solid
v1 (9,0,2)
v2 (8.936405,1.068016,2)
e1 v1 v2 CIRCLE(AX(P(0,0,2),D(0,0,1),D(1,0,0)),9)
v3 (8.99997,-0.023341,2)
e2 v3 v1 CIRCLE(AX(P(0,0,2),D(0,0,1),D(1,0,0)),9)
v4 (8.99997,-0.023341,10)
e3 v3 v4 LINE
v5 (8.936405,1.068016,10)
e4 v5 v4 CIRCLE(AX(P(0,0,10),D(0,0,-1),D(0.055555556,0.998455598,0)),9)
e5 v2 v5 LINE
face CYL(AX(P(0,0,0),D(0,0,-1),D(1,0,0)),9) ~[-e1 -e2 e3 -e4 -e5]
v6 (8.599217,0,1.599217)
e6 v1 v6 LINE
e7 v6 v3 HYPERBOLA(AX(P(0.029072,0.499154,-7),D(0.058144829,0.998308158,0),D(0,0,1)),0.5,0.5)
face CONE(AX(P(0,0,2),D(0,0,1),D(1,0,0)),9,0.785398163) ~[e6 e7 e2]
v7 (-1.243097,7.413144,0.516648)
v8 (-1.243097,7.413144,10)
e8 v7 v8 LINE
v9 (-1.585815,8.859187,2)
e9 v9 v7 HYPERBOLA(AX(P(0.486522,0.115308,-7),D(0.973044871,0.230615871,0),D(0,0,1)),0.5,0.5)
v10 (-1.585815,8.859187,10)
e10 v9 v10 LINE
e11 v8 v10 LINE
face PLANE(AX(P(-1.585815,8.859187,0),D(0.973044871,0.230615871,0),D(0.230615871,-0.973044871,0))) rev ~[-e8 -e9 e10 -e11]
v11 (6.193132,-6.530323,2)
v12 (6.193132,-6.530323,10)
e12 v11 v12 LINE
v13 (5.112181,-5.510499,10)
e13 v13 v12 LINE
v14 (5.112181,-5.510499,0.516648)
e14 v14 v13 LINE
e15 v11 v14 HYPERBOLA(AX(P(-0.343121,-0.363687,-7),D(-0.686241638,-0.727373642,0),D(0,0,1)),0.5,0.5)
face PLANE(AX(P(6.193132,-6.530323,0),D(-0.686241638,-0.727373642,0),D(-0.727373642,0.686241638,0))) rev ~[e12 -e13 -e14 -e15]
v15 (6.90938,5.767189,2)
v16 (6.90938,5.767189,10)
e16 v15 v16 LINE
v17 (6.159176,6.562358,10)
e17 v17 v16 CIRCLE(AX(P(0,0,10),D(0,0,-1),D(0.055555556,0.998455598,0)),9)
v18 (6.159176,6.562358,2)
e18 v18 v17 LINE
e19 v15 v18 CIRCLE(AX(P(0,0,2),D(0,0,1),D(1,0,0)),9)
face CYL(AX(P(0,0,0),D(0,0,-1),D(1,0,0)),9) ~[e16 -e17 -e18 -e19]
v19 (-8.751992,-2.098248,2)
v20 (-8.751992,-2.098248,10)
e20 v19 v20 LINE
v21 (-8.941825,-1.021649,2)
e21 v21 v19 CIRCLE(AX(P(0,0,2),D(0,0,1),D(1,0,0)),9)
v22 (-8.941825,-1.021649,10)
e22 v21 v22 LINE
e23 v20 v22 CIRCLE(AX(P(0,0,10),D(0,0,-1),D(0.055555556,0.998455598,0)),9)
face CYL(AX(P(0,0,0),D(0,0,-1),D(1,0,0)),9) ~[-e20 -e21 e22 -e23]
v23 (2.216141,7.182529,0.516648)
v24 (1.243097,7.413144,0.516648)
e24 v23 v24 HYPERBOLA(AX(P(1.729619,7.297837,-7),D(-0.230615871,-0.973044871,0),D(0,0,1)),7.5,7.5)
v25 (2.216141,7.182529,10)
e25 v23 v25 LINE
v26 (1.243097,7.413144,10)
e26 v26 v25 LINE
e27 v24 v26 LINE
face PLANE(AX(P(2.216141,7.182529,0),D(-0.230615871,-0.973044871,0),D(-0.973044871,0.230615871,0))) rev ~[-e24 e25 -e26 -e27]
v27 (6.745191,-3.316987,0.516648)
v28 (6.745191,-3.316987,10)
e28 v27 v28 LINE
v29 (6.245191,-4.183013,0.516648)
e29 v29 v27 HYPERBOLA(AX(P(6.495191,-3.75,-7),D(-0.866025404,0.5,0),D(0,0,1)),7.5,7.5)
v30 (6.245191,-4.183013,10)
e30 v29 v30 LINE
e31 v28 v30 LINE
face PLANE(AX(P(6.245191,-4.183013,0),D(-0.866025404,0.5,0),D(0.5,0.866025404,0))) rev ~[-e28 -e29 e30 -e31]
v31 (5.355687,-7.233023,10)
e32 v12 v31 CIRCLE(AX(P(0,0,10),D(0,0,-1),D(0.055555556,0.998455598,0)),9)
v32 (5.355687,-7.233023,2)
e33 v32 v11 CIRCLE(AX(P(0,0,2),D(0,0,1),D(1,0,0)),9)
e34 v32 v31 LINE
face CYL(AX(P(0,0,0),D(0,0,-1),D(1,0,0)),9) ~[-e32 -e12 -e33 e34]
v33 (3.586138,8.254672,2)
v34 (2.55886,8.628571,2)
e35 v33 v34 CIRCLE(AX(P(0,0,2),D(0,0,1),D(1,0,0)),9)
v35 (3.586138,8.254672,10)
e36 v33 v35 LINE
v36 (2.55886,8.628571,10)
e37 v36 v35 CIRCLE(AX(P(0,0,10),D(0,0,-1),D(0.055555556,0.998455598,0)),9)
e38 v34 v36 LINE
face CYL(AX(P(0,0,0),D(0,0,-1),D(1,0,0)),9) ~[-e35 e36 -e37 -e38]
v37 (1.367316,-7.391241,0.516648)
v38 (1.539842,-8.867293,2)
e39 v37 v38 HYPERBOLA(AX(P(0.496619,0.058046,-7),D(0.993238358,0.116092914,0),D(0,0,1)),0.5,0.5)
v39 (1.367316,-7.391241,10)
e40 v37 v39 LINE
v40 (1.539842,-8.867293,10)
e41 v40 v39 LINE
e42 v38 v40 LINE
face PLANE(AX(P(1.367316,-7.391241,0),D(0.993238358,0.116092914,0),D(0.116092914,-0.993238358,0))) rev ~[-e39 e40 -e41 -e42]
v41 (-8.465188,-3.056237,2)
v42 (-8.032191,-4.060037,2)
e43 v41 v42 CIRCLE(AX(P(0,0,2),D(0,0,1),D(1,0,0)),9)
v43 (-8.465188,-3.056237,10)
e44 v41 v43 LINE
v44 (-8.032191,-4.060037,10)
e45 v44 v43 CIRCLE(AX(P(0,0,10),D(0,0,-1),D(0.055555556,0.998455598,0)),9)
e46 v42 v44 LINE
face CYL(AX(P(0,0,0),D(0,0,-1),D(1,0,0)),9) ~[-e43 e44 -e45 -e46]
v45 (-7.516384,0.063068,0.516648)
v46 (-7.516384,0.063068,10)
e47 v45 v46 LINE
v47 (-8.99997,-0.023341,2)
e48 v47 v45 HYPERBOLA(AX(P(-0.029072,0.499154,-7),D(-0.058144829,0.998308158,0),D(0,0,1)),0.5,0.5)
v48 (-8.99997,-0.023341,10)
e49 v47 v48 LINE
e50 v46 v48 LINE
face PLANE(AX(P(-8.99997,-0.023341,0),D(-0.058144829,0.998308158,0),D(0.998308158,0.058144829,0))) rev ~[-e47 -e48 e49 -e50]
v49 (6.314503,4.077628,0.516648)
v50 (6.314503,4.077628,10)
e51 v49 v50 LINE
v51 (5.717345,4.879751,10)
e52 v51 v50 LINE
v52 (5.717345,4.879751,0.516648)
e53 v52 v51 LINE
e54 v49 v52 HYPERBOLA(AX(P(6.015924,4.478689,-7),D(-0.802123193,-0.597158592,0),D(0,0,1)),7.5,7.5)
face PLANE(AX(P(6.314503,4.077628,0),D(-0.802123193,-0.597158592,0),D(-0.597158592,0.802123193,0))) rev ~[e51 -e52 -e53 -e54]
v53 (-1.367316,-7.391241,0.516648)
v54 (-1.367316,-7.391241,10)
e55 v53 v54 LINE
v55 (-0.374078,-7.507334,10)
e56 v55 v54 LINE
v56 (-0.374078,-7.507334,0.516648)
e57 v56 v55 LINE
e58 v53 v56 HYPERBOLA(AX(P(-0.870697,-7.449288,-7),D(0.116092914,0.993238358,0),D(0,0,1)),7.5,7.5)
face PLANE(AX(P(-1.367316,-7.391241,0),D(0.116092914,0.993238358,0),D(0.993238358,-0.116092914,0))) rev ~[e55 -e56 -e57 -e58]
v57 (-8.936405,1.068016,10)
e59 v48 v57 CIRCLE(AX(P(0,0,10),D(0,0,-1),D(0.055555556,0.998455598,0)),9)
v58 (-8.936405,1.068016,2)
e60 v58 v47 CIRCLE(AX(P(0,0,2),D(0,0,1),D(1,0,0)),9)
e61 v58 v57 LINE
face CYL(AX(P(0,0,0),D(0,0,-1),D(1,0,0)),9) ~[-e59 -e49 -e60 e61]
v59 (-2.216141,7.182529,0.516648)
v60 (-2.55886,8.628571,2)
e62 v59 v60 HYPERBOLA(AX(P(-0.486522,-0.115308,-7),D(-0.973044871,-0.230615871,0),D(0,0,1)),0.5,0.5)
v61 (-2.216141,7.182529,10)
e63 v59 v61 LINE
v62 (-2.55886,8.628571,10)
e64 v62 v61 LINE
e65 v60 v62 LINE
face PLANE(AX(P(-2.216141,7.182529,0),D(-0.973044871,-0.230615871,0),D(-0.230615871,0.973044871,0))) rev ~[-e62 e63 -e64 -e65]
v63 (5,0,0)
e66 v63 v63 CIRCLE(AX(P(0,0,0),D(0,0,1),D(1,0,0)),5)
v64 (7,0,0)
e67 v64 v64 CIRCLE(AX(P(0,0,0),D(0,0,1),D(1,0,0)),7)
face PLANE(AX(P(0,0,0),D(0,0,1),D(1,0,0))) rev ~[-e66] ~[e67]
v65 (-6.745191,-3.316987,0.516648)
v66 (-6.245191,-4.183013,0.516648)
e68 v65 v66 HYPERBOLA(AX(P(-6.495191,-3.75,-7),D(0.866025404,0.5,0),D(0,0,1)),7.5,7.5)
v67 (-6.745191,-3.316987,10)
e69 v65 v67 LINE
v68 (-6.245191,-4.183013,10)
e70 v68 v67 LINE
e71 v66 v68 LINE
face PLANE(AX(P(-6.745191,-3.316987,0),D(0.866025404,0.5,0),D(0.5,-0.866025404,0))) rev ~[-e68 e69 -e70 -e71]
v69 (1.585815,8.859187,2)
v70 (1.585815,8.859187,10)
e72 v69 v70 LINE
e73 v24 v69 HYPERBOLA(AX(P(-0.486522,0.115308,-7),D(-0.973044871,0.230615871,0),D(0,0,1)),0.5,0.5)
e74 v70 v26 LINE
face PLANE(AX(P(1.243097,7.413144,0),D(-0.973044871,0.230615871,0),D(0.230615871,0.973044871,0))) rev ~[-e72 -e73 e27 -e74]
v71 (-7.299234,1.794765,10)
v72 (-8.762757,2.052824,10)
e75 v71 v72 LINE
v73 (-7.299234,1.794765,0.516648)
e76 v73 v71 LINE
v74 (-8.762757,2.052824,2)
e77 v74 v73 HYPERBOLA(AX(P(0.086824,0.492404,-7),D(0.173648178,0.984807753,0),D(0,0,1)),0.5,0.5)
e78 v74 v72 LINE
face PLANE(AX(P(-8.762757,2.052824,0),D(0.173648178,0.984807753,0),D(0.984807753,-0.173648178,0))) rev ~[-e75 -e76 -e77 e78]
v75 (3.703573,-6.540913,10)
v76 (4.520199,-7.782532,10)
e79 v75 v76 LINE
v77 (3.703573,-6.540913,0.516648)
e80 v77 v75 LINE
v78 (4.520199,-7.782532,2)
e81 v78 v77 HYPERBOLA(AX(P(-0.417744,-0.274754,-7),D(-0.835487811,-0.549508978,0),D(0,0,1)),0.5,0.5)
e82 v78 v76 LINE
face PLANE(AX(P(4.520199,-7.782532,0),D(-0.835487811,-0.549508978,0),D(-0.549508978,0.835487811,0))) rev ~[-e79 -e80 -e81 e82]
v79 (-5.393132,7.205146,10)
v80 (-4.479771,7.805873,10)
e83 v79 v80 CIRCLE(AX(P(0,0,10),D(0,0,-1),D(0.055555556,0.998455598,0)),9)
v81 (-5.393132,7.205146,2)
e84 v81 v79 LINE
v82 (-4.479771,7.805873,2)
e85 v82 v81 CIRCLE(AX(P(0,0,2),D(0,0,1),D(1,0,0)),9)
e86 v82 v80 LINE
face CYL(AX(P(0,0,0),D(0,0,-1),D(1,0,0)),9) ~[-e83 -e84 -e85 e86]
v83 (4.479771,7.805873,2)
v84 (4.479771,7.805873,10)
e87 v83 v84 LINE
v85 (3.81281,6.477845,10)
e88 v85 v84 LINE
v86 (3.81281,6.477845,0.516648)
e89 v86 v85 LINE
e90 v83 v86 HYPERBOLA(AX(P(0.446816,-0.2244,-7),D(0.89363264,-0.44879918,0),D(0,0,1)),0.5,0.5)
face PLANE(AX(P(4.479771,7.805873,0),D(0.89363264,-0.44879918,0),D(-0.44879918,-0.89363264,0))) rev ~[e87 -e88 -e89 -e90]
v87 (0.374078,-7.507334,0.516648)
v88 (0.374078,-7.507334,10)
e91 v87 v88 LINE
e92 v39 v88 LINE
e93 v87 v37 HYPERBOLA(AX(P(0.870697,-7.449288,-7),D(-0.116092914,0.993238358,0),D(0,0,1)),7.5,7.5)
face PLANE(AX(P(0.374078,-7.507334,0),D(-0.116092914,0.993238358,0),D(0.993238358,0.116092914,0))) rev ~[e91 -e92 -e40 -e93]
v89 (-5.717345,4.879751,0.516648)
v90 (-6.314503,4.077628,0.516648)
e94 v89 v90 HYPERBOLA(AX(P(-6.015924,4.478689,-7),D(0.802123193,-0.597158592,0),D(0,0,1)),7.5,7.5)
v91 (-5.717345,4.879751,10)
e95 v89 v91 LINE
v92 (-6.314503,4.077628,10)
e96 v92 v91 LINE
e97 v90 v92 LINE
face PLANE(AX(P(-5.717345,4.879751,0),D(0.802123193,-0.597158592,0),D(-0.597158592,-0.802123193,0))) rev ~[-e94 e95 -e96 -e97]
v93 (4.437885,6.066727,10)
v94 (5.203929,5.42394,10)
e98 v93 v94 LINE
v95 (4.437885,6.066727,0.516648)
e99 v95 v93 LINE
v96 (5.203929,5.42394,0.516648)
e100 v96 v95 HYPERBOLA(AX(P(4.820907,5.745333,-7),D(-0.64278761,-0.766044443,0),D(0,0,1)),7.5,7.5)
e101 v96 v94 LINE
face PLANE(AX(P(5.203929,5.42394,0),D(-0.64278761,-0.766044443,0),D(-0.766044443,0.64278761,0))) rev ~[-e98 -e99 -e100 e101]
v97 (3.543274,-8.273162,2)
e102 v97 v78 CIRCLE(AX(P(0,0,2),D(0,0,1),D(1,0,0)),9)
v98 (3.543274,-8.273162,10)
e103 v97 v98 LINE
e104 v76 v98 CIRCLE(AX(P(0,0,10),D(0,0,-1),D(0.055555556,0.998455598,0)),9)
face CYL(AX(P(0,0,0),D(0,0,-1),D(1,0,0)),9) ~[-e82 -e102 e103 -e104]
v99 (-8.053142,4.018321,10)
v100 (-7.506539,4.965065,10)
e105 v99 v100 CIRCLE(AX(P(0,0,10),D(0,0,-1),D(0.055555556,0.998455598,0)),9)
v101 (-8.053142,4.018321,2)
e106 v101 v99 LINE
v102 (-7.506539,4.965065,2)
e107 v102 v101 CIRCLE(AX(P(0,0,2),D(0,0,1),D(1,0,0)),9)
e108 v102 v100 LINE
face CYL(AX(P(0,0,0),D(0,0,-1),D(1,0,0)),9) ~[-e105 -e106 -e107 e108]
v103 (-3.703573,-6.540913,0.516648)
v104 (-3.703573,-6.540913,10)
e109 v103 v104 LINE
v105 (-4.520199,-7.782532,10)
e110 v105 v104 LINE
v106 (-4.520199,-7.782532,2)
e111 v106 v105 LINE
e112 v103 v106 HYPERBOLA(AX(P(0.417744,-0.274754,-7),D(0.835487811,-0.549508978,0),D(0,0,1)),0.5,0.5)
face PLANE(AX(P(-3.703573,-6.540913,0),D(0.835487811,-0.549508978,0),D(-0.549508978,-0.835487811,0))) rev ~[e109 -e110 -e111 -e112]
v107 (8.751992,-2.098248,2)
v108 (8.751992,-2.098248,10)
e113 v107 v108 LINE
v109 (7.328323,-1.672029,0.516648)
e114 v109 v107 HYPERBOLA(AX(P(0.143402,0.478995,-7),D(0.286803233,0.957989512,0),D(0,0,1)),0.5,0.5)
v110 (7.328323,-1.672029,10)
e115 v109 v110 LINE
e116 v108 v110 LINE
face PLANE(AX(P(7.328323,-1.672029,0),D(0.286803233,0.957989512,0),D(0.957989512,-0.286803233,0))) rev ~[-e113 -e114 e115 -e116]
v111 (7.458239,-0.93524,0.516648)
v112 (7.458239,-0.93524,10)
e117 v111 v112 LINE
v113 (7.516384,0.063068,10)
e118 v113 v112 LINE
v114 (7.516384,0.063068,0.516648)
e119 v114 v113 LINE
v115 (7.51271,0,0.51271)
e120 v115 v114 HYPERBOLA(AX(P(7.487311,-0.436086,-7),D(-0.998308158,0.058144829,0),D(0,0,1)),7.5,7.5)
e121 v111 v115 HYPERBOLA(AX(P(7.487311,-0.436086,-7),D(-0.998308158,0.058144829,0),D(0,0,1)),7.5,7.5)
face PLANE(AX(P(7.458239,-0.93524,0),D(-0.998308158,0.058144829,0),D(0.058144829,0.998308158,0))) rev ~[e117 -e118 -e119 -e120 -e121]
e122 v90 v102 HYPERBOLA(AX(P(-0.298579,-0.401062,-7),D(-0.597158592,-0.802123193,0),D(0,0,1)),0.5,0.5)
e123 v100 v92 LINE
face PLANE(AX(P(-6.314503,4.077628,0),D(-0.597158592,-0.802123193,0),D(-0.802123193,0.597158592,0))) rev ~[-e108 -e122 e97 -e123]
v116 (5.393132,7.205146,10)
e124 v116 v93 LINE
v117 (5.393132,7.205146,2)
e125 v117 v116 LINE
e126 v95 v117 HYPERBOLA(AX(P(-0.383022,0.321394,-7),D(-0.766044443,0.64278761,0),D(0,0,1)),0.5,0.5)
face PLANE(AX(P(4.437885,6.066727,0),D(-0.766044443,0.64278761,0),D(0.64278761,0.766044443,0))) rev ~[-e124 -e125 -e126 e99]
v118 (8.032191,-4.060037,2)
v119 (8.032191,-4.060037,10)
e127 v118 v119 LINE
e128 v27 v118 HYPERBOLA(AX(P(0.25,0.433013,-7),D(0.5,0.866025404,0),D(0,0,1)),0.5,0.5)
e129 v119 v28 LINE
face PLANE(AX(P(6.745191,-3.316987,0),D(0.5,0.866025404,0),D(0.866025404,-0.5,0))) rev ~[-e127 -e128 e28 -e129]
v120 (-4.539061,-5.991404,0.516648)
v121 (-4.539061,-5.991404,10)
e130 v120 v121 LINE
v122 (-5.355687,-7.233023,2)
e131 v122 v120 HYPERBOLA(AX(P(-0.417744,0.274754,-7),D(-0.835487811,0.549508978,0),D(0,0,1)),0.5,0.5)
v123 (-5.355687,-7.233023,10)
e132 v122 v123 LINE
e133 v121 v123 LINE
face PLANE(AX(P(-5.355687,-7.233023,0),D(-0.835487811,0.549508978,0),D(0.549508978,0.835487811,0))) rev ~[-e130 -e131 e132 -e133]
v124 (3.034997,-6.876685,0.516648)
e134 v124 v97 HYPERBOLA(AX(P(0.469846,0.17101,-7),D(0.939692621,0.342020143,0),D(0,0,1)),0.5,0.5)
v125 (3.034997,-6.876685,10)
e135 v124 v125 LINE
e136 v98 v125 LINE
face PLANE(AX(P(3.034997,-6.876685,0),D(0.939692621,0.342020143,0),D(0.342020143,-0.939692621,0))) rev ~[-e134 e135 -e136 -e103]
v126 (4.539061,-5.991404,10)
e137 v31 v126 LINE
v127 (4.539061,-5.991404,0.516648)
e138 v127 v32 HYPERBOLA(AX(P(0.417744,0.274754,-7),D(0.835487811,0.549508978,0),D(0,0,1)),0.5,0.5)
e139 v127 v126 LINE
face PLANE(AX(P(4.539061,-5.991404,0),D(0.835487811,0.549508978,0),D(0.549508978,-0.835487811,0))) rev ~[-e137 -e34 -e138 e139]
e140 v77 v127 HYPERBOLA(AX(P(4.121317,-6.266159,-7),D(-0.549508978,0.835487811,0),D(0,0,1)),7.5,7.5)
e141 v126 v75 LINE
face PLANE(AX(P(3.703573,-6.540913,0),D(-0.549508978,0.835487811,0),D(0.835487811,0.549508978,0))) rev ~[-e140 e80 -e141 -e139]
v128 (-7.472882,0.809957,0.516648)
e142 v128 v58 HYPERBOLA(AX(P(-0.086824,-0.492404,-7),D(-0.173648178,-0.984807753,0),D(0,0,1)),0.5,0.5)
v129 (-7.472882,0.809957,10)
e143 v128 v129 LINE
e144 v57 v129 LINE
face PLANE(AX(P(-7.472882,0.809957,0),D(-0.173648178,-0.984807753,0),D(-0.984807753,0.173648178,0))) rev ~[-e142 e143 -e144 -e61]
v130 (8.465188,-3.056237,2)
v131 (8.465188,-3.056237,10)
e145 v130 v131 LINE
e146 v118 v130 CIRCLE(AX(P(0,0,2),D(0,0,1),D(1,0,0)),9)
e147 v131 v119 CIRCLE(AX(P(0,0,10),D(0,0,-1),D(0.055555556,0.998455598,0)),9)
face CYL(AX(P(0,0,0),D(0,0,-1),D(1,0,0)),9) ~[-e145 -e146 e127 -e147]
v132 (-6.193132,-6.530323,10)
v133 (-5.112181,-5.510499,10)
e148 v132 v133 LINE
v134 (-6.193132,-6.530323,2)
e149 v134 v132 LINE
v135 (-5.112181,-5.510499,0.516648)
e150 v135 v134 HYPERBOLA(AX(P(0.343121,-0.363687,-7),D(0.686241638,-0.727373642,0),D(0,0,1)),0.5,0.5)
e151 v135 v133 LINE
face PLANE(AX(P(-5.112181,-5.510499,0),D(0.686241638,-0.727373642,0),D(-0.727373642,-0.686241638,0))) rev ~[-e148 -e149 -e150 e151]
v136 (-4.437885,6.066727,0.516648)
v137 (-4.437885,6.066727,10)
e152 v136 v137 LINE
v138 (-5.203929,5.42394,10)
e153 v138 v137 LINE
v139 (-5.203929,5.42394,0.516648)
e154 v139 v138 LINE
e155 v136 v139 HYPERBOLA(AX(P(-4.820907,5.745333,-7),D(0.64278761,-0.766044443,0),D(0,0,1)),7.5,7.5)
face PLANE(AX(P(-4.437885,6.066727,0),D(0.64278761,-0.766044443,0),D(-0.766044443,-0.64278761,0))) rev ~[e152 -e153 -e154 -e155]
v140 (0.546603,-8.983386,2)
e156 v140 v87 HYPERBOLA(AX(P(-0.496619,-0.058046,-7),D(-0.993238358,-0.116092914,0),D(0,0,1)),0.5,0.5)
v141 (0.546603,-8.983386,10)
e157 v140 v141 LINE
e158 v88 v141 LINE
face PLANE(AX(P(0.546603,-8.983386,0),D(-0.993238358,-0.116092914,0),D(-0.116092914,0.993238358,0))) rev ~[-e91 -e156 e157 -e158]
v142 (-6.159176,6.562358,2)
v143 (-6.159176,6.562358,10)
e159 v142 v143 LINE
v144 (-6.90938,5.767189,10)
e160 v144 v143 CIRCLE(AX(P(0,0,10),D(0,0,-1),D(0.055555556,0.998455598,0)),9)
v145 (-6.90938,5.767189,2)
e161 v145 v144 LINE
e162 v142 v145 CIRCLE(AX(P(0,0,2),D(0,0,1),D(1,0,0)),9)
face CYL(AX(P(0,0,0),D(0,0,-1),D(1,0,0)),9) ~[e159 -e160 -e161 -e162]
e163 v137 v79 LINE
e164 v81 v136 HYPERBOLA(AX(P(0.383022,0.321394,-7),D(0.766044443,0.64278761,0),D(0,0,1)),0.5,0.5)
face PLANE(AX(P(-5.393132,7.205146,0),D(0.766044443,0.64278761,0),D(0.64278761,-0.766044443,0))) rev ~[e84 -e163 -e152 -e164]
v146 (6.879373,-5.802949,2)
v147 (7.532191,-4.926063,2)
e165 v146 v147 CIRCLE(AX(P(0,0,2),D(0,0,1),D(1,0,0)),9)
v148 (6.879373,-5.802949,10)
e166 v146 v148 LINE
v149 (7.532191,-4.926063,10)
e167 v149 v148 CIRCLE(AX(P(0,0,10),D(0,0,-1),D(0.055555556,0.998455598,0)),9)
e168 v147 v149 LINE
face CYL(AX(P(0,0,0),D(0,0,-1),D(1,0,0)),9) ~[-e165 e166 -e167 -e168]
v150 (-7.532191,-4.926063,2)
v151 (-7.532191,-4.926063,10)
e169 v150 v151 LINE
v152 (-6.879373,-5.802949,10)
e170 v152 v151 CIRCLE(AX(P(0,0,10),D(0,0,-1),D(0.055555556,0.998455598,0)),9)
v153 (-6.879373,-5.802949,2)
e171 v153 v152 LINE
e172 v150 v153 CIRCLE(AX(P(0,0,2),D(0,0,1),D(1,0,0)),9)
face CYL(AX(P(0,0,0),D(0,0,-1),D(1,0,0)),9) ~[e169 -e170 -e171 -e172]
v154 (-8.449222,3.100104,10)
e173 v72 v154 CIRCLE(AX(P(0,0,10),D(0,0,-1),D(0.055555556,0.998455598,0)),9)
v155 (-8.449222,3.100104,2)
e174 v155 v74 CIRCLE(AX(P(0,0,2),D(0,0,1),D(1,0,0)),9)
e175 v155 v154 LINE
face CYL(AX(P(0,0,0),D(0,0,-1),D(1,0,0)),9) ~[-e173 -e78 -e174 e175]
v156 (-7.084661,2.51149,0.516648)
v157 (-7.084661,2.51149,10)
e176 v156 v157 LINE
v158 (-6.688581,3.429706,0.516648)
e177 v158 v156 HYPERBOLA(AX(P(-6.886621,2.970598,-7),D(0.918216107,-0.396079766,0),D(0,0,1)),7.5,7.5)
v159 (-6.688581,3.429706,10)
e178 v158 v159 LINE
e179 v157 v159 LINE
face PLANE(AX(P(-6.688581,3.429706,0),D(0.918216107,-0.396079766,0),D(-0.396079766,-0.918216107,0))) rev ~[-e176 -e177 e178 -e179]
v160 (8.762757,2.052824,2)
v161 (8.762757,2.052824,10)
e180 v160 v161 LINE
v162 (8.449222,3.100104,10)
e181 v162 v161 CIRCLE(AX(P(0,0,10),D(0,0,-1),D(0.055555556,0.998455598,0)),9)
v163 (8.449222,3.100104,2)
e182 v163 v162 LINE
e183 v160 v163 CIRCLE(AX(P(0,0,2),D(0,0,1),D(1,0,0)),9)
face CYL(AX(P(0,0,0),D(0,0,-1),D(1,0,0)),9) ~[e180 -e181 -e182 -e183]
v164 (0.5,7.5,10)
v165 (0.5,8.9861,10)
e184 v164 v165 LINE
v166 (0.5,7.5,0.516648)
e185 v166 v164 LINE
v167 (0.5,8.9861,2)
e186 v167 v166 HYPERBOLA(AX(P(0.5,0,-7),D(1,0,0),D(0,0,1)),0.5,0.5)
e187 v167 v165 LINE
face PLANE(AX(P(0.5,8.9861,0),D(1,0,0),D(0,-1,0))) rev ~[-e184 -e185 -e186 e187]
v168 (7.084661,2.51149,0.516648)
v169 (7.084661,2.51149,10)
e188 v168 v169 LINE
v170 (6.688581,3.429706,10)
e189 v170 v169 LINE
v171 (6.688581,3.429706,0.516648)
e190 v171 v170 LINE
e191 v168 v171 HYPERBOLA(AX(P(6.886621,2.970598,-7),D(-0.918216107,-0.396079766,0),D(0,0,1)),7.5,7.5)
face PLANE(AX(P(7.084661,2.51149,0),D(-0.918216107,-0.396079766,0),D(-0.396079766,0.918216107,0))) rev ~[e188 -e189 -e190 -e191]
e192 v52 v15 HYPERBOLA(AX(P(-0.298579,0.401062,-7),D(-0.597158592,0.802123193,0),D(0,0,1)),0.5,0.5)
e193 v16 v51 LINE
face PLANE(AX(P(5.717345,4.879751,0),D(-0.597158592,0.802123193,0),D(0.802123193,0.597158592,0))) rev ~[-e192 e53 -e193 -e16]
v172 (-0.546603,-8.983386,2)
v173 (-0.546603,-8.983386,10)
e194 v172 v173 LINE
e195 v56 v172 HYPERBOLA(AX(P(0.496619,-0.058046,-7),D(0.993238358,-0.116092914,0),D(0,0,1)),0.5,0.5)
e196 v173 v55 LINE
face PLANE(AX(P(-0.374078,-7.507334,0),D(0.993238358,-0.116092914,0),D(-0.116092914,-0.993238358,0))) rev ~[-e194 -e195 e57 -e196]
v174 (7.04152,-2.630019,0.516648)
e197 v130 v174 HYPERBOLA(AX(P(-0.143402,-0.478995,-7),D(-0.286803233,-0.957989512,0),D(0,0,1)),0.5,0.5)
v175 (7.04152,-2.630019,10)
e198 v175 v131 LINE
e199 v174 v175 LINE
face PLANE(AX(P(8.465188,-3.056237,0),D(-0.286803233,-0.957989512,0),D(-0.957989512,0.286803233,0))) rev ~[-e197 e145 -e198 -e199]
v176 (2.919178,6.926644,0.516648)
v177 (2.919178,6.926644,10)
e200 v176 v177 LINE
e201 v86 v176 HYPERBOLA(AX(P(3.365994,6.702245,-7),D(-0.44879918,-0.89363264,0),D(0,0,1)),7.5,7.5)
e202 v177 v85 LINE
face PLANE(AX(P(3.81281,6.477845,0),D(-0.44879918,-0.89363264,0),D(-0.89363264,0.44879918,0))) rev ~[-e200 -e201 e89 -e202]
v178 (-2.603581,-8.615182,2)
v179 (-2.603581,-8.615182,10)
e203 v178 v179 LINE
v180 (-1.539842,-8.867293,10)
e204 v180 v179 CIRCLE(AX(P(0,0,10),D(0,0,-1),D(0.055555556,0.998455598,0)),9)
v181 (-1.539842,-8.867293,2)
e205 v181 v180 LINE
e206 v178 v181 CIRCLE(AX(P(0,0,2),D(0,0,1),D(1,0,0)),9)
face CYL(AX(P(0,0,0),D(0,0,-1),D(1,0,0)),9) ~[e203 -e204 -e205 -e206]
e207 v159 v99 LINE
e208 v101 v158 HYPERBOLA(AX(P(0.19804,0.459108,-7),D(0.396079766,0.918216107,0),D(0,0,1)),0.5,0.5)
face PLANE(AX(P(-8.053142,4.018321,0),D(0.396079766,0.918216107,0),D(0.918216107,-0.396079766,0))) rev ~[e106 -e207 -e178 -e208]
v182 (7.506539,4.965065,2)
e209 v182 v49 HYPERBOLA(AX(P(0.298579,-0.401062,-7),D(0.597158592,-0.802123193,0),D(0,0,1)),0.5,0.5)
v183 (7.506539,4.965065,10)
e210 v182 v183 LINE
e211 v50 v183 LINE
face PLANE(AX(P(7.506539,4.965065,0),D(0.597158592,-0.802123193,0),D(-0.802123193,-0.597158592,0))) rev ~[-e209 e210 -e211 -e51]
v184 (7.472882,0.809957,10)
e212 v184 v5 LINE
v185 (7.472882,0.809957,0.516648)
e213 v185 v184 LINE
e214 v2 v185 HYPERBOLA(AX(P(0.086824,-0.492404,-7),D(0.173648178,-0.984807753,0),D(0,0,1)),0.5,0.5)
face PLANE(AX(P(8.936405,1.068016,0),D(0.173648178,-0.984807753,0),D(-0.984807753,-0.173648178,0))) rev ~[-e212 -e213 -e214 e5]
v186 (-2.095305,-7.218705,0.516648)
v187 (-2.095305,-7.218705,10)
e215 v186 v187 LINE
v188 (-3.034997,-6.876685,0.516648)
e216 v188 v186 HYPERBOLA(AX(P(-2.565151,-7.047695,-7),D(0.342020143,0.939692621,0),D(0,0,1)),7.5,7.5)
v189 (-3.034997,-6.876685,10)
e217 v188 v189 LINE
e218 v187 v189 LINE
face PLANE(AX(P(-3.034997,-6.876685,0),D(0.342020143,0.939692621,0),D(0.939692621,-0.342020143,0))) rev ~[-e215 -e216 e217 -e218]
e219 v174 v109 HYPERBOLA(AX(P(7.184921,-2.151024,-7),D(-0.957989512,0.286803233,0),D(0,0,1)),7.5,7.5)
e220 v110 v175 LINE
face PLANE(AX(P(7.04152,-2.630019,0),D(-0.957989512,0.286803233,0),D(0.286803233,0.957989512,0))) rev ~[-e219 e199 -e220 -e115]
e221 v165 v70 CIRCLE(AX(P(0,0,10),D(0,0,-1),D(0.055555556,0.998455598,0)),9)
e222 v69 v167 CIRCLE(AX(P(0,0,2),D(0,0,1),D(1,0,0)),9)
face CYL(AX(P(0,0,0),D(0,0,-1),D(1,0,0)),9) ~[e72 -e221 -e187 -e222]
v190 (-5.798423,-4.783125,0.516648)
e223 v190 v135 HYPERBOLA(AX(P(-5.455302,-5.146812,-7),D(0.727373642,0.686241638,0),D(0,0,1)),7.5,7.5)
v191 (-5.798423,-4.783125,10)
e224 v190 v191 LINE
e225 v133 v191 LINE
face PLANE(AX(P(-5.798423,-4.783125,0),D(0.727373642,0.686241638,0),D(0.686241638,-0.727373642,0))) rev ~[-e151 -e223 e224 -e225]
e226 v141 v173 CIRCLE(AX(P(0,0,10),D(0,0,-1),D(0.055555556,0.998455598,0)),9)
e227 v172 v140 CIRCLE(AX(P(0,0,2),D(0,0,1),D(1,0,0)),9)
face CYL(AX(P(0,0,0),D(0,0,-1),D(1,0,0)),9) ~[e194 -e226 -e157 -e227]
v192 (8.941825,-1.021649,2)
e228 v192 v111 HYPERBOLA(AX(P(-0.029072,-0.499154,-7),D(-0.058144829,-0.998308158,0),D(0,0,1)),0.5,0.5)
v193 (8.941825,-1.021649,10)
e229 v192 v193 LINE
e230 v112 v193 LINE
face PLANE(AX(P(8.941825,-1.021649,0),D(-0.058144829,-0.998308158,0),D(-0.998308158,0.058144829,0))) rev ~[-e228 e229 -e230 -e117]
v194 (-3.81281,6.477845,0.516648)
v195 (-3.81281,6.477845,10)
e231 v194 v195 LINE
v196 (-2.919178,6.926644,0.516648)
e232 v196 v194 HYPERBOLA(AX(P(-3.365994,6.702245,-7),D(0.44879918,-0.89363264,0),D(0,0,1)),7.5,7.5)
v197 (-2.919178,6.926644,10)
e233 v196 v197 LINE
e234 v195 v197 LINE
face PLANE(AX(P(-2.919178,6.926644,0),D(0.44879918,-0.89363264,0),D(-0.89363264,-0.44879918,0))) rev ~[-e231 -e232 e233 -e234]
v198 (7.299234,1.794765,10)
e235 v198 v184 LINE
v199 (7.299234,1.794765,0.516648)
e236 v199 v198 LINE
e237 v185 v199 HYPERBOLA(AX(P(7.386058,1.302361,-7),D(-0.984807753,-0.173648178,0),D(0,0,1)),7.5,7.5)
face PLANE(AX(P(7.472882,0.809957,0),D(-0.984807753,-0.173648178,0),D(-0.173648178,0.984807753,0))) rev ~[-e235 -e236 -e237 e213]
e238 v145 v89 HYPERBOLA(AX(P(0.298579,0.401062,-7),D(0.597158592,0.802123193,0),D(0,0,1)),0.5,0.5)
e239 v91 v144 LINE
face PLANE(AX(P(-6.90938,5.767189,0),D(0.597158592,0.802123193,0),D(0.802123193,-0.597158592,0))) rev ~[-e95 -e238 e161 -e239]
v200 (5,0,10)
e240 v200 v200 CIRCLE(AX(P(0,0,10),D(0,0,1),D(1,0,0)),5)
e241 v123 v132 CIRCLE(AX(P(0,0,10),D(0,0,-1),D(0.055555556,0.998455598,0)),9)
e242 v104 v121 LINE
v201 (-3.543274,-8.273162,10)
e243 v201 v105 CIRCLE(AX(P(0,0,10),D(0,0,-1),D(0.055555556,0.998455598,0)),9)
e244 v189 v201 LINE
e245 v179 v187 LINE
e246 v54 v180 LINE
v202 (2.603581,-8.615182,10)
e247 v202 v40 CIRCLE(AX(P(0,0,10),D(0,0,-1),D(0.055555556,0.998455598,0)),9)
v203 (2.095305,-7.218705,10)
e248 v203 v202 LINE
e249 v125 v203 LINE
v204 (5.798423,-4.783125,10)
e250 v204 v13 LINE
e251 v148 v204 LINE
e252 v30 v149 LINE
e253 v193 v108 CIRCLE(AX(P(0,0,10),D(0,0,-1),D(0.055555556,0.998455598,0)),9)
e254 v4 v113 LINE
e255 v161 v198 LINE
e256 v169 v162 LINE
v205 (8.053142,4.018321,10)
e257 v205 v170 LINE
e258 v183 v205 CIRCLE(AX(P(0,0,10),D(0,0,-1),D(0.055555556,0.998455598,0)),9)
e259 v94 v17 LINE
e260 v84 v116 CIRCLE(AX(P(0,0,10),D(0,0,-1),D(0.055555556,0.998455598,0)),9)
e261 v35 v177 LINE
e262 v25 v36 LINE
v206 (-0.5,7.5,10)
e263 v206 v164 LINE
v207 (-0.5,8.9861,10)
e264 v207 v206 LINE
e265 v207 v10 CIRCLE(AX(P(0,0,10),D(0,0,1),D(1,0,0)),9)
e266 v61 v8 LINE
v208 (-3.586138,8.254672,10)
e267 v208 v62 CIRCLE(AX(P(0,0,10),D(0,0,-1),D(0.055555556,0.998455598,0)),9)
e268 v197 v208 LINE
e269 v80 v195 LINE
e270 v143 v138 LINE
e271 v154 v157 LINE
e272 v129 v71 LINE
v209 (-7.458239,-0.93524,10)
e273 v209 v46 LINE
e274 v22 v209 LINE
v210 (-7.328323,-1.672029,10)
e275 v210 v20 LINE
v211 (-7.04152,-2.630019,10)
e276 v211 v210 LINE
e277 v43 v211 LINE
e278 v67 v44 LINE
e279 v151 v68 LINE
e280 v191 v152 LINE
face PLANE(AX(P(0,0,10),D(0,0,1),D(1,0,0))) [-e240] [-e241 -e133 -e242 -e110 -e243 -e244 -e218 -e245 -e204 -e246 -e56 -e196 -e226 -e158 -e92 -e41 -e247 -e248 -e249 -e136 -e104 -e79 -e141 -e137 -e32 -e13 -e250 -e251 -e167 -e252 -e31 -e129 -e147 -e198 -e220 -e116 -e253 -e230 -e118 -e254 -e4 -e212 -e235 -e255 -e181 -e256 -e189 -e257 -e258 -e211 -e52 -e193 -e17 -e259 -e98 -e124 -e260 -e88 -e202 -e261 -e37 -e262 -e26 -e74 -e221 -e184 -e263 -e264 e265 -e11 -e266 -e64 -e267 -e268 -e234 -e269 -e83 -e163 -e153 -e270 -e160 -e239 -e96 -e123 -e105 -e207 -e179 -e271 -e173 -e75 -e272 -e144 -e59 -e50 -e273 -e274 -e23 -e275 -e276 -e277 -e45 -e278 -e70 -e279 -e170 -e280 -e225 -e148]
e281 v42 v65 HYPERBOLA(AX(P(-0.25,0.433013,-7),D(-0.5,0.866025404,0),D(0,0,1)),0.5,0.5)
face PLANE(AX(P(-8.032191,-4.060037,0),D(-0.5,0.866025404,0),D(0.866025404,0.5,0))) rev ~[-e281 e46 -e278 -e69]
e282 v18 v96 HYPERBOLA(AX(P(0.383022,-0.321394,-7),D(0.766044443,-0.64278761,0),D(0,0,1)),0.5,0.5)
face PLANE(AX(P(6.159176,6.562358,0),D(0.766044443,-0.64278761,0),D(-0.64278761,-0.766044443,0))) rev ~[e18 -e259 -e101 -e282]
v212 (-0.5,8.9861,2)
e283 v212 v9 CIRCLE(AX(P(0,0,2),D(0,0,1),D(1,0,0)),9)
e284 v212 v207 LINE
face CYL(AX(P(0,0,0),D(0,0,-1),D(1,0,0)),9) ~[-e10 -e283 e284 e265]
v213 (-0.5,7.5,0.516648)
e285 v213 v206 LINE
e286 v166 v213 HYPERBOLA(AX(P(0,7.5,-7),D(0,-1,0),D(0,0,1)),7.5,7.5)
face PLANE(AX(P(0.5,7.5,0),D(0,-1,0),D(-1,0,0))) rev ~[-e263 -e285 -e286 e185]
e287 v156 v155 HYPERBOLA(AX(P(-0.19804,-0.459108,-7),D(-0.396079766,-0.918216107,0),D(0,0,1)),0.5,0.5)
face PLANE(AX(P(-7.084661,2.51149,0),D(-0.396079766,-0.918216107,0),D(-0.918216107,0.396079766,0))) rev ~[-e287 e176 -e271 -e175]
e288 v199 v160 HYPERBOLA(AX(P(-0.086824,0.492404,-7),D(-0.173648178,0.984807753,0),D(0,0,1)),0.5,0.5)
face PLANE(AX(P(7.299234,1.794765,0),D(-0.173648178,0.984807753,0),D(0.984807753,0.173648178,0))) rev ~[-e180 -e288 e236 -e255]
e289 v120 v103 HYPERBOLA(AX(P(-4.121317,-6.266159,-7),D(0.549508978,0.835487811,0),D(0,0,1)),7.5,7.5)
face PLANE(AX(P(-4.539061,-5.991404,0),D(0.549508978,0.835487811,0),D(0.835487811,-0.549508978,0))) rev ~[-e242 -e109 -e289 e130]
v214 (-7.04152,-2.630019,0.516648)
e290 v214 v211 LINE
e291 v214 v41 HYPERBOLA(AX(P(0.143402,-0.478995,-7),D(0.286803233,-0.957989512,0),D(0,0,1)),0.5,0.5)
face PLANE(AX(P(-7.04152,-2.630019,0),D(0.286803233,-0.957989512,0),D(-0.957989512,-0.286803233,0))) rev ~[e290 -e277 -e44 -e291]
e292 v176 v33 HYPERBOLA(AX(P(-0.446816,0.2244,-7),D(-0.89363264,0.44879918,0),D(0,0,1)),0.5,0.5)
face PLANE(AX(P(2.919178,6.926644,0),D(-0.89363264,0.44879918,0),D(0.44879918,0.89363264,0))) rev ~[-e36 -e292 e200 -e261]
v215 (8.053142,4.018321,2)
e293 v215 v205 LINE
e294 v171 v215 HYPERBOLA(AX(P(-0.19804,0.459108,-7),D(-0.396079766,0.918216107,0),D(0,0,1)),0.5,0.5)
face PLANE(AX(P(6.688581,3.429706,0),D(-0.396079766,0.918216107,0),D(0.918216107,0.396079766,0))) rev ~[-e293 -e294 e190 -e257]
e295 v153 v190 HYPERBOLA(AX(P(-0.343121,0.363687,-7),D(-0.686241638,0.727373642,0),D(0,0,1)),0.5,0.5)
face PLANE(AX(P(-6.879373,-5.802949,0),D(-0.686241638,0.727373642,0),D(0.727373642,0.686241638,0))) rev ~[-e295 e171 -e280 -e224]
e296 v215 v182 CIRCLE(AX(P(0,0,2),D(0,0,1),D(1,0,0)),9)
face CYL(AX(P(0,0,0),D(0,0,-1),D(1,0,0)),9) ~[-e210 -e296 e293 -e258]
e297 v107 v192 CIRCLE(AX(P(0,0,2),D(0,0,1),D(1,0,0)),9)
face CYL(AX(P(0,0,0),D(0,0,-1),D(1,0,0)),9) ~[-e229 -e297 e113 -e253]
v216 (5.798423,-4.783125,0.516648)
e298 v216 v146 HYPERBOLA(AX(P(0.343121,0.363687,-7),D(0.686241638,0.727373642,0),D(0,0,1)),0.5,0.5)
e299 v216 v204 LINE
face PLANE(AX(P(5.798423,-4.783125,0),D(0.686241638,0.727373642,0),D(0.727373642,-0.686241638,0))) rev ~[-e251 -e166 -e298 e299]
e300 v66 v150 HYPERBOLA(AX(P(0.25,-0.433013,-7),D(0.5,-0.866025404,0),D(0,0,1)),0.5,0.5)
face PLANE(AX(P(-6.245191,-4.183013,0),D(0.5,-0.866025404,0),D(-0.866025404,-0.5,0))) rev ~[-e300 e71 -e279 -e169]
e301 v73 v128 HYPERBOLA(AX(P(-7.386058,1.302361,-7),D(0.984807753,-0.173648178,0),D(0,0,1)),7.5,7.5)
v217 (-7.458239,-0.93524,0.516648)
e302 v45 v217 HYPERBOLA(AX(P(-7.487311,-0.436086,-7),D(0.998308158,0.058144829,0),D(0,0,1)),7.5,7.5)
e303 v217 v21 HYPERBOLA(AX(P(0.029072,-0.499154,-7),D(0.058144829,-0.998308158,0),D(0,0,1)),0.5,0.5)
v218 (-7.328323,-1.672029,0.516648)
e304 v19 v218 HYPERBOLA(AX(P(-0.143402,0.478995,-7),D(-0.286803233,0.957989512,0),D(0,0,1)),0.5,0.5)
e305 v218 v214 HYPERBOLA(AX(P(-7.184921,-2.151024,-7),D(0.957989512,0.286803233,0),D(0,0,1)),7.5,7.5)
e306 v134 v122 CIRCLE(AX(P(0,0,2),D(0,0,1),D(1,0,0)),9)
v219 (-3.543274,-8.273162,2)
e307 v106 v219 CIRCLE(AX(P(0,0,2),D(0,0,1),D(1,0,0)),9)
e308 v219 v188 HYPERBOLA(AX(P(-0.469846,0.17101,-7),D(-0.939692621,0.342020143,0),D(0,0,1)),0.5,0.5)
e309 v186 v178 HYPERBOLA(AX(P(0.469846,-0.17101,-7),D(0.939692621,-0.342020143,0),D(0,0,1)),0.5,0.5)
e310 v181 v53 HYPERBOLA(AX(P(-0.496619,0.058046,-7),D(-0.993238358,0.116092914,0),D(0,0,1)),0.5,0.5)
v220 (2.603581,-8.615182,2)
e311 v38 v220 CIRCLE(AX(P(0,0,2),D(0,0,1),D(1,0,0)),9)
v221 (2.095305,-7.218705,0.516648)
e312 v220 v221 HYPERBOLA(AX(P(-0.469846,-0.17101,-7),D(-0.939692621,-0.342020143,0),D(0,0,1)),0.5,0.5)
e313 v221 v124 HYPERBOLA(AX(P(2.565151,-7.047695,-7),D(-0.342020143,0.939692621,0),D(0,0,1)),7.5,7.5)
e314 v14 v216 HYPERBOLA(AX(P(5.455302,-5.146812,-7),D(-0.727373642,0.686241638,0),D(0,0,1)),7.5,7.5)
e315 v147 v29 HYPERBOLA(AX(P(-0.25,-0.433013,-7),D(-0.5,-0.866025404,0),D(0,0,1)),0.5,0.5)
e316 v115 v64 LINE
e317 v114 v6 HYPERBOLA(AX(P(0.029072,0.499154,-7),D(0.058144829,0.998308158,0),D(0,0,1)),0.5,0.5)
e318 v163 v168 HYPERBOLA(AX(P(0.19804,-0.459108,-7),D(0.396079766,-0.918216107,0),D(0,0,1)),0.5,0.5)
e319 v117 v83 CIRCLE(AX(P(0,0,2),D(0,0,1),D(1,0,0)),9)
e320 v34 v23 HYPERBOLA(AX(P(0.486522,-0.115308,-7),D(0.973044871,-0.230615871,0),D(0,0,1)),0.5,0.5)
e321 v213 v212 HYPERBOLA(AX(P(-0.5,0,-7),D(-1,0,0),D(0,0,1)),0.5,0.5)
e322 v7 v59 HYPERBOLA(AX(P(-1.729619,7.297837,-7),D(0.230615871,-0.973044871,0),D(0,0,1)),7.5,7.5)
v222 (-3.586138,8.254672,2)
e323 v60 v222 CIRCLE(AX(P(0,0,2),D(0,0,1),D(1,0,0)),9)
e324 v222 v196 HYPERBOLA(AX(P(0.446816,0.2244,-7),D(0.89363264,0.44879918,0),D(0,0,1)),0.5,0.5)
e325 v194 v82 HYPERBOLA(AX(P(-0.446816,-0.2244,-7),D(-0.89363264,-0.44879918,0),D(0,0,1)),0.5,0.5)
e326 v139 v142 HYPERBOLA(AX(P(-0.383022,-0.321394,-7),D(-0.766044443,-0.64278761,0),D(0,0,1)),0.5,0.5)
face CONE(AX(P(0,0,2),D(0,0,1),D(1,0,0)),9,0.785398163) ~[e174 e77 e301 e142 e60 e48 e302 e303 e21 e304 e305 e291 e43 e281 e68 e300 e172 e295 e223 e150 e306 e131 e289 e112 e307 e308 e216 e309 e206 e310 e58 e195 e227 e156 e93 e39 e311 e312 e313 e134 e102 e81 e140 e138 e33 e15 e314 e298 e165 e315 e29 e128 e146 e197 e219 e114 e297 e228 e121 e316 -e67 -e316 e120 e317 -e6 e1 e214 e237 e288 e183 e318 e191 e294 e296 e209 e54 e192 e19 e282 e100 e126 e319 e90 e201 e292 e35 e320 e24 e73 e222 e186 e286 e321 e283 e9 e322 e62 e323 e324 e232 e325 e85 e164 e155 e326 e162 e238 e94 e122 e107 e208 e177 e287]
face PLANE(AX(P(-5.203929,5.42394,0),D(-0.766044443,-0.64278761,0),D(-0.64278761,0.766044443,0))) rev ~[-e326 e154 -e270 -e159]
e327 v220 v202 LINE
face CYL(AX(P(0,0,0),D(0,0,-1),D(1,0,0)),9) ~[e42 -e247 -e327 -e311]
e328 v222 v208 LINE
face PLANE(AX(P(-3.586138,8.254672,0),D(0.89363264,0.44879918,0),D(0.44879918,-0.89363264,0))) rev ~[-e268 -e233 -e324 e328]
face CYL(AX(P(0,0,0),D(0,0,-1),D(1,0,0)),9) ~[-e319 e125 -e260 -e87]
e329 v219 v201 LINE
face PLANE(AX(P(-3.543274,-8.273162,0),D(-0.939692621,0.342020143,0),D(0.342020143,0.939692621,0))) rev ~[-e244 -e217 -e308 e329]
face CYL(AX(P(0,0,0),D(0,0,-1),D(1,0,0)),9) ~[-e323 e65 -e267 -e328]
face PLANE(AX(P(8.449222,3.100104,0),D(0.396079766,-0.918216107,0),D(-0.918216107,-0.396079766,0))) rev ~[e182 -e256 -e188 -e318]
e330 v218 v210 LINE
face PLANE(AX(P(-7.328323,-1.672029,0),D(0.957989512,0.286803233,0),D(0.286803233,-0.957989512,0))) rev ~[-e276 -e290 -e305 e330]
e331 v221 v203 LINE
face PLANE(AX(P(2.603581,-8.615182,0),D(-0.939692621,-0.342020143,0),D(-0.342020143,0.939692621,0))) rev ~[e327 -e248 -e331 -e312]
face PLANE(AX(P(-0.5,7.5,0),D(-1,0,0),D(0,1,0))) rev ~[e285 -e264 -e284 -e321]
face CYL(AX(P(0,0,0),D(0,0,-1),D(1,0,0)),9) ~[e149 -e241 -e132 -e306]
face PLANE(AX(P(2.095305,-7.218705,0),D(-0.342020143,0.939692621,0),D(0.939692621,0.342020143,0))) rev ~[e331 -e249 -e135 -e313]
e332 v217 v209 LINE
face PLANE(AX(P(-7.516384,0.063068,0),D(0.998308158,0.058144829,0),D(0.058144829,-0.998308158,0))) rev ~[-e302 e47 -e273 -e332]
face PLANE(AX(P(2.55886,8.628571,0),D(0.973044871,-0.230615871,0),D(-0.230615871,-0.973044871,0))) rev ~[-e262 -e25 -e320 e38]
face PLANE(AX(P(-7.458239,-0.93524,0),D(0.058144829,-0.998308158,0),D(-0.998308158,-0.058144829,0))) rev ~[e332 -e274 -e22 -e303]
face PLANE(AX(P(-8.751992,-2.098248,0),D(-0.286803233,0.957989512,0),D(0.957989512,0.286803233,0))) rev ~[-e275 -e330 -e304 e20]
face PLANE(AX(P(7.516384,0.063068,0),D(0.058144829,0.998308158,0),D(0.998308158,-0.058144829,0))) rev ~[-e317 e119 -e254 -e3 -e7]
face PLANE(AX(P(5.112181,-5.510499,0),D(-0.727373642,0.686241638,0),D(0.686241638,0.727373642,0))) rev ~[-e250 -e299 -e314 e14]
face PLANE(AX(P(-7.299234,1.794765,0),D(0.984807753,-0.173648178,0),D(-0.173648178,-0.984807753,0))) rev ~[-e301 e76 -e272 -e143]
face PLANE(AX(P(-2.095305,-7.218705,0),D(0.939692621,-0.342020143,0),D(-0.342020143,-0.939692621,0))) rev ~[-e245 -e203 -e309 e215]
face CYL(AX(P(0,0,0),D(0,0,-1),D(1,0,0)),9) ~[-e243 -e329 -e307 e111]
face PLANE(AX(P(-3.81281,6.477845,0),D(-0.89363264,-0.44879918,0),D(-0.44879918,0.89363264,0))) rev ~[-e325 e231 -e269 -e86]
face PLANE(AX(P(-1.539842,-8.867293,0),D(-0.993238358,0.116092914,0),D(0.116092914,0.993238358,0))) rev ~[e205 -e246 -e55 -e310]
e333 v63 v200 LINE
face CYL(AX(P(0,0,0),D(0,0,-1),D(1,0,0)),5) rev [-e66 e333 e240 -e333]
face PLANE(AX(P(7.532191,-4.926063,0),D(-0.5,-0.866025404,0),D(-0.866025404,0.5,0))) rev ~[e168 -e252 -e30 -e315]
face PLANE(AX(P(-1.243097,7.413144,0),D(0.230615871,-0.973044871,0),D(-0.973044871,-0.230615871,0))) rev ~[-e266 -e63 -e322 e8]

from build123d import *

# Parameters (mm, degrees)
SKETCH1_R           = 9
SKETCH1_R_2         = 5
BOSS_EXTRUDE1_DEPTH = 10
CHAMFER1_SIZE       = 2
CUT_EXTRUDE1_DEPTH  = 17.186414056
CIRPATTERN1_COUNT   = 27


with BuildPart() as part:
    # Sketch1 → Boss-Extrude1 (new body)
    with BuildSketch(Plane.XY):
        Circle(SKETCH1_R)
        Circle(SKETCH1_R_2, mode=Mode.SUBTRACT)
    extrude(amount=BOSS_EXTRUDE1_DEPTH)

    # Chamfer1
    chamfer1_edges = [part.edges().sort_by_distance(p)[0] for p in [
        (-9, 0, 0),
    ]]
    chamfer(chamfer1_edges, length=CHAMFER1_SIZE)

    # Sketch2 → Cut-Extrude1 (cut, through all)
    with BuildSketch(Plane(origin=(0, 0, 0), x_dir=(-1, 0, 0), z_dir=(0, 0, -1))):
        with BuildLine():
            Line((-0.5, 7.5), (0.5, 7.5))
            Line((0.5, 7.5), (0.5, 8.986100378))
            ThreePointArc((0.5, 8.986100378), (0, 9), (-0.5, 8.986100378))
            Line((-0.5, 8.986100378), (-0.5, 7.5))
        make_face()
    cut_extrude1 = extrude(amount=-CUT_EXTRUDE1_DEPTH, mode=Mode.SUBTRACT)

    # CirPattern1: Cut-Extrude1 ×27 about axis
    cirpattern1_axis = Axis((0, 0, 10), (0, 0, -1))
    for i in range(1, CIRPATTERN1_COUNT):
        add(cut_extrude1.rotate(cirpattern1_axis, i * 360 / CIRPATTERN1_COUNT), mode=Mode.SUBTRACT)


solid = part.part
